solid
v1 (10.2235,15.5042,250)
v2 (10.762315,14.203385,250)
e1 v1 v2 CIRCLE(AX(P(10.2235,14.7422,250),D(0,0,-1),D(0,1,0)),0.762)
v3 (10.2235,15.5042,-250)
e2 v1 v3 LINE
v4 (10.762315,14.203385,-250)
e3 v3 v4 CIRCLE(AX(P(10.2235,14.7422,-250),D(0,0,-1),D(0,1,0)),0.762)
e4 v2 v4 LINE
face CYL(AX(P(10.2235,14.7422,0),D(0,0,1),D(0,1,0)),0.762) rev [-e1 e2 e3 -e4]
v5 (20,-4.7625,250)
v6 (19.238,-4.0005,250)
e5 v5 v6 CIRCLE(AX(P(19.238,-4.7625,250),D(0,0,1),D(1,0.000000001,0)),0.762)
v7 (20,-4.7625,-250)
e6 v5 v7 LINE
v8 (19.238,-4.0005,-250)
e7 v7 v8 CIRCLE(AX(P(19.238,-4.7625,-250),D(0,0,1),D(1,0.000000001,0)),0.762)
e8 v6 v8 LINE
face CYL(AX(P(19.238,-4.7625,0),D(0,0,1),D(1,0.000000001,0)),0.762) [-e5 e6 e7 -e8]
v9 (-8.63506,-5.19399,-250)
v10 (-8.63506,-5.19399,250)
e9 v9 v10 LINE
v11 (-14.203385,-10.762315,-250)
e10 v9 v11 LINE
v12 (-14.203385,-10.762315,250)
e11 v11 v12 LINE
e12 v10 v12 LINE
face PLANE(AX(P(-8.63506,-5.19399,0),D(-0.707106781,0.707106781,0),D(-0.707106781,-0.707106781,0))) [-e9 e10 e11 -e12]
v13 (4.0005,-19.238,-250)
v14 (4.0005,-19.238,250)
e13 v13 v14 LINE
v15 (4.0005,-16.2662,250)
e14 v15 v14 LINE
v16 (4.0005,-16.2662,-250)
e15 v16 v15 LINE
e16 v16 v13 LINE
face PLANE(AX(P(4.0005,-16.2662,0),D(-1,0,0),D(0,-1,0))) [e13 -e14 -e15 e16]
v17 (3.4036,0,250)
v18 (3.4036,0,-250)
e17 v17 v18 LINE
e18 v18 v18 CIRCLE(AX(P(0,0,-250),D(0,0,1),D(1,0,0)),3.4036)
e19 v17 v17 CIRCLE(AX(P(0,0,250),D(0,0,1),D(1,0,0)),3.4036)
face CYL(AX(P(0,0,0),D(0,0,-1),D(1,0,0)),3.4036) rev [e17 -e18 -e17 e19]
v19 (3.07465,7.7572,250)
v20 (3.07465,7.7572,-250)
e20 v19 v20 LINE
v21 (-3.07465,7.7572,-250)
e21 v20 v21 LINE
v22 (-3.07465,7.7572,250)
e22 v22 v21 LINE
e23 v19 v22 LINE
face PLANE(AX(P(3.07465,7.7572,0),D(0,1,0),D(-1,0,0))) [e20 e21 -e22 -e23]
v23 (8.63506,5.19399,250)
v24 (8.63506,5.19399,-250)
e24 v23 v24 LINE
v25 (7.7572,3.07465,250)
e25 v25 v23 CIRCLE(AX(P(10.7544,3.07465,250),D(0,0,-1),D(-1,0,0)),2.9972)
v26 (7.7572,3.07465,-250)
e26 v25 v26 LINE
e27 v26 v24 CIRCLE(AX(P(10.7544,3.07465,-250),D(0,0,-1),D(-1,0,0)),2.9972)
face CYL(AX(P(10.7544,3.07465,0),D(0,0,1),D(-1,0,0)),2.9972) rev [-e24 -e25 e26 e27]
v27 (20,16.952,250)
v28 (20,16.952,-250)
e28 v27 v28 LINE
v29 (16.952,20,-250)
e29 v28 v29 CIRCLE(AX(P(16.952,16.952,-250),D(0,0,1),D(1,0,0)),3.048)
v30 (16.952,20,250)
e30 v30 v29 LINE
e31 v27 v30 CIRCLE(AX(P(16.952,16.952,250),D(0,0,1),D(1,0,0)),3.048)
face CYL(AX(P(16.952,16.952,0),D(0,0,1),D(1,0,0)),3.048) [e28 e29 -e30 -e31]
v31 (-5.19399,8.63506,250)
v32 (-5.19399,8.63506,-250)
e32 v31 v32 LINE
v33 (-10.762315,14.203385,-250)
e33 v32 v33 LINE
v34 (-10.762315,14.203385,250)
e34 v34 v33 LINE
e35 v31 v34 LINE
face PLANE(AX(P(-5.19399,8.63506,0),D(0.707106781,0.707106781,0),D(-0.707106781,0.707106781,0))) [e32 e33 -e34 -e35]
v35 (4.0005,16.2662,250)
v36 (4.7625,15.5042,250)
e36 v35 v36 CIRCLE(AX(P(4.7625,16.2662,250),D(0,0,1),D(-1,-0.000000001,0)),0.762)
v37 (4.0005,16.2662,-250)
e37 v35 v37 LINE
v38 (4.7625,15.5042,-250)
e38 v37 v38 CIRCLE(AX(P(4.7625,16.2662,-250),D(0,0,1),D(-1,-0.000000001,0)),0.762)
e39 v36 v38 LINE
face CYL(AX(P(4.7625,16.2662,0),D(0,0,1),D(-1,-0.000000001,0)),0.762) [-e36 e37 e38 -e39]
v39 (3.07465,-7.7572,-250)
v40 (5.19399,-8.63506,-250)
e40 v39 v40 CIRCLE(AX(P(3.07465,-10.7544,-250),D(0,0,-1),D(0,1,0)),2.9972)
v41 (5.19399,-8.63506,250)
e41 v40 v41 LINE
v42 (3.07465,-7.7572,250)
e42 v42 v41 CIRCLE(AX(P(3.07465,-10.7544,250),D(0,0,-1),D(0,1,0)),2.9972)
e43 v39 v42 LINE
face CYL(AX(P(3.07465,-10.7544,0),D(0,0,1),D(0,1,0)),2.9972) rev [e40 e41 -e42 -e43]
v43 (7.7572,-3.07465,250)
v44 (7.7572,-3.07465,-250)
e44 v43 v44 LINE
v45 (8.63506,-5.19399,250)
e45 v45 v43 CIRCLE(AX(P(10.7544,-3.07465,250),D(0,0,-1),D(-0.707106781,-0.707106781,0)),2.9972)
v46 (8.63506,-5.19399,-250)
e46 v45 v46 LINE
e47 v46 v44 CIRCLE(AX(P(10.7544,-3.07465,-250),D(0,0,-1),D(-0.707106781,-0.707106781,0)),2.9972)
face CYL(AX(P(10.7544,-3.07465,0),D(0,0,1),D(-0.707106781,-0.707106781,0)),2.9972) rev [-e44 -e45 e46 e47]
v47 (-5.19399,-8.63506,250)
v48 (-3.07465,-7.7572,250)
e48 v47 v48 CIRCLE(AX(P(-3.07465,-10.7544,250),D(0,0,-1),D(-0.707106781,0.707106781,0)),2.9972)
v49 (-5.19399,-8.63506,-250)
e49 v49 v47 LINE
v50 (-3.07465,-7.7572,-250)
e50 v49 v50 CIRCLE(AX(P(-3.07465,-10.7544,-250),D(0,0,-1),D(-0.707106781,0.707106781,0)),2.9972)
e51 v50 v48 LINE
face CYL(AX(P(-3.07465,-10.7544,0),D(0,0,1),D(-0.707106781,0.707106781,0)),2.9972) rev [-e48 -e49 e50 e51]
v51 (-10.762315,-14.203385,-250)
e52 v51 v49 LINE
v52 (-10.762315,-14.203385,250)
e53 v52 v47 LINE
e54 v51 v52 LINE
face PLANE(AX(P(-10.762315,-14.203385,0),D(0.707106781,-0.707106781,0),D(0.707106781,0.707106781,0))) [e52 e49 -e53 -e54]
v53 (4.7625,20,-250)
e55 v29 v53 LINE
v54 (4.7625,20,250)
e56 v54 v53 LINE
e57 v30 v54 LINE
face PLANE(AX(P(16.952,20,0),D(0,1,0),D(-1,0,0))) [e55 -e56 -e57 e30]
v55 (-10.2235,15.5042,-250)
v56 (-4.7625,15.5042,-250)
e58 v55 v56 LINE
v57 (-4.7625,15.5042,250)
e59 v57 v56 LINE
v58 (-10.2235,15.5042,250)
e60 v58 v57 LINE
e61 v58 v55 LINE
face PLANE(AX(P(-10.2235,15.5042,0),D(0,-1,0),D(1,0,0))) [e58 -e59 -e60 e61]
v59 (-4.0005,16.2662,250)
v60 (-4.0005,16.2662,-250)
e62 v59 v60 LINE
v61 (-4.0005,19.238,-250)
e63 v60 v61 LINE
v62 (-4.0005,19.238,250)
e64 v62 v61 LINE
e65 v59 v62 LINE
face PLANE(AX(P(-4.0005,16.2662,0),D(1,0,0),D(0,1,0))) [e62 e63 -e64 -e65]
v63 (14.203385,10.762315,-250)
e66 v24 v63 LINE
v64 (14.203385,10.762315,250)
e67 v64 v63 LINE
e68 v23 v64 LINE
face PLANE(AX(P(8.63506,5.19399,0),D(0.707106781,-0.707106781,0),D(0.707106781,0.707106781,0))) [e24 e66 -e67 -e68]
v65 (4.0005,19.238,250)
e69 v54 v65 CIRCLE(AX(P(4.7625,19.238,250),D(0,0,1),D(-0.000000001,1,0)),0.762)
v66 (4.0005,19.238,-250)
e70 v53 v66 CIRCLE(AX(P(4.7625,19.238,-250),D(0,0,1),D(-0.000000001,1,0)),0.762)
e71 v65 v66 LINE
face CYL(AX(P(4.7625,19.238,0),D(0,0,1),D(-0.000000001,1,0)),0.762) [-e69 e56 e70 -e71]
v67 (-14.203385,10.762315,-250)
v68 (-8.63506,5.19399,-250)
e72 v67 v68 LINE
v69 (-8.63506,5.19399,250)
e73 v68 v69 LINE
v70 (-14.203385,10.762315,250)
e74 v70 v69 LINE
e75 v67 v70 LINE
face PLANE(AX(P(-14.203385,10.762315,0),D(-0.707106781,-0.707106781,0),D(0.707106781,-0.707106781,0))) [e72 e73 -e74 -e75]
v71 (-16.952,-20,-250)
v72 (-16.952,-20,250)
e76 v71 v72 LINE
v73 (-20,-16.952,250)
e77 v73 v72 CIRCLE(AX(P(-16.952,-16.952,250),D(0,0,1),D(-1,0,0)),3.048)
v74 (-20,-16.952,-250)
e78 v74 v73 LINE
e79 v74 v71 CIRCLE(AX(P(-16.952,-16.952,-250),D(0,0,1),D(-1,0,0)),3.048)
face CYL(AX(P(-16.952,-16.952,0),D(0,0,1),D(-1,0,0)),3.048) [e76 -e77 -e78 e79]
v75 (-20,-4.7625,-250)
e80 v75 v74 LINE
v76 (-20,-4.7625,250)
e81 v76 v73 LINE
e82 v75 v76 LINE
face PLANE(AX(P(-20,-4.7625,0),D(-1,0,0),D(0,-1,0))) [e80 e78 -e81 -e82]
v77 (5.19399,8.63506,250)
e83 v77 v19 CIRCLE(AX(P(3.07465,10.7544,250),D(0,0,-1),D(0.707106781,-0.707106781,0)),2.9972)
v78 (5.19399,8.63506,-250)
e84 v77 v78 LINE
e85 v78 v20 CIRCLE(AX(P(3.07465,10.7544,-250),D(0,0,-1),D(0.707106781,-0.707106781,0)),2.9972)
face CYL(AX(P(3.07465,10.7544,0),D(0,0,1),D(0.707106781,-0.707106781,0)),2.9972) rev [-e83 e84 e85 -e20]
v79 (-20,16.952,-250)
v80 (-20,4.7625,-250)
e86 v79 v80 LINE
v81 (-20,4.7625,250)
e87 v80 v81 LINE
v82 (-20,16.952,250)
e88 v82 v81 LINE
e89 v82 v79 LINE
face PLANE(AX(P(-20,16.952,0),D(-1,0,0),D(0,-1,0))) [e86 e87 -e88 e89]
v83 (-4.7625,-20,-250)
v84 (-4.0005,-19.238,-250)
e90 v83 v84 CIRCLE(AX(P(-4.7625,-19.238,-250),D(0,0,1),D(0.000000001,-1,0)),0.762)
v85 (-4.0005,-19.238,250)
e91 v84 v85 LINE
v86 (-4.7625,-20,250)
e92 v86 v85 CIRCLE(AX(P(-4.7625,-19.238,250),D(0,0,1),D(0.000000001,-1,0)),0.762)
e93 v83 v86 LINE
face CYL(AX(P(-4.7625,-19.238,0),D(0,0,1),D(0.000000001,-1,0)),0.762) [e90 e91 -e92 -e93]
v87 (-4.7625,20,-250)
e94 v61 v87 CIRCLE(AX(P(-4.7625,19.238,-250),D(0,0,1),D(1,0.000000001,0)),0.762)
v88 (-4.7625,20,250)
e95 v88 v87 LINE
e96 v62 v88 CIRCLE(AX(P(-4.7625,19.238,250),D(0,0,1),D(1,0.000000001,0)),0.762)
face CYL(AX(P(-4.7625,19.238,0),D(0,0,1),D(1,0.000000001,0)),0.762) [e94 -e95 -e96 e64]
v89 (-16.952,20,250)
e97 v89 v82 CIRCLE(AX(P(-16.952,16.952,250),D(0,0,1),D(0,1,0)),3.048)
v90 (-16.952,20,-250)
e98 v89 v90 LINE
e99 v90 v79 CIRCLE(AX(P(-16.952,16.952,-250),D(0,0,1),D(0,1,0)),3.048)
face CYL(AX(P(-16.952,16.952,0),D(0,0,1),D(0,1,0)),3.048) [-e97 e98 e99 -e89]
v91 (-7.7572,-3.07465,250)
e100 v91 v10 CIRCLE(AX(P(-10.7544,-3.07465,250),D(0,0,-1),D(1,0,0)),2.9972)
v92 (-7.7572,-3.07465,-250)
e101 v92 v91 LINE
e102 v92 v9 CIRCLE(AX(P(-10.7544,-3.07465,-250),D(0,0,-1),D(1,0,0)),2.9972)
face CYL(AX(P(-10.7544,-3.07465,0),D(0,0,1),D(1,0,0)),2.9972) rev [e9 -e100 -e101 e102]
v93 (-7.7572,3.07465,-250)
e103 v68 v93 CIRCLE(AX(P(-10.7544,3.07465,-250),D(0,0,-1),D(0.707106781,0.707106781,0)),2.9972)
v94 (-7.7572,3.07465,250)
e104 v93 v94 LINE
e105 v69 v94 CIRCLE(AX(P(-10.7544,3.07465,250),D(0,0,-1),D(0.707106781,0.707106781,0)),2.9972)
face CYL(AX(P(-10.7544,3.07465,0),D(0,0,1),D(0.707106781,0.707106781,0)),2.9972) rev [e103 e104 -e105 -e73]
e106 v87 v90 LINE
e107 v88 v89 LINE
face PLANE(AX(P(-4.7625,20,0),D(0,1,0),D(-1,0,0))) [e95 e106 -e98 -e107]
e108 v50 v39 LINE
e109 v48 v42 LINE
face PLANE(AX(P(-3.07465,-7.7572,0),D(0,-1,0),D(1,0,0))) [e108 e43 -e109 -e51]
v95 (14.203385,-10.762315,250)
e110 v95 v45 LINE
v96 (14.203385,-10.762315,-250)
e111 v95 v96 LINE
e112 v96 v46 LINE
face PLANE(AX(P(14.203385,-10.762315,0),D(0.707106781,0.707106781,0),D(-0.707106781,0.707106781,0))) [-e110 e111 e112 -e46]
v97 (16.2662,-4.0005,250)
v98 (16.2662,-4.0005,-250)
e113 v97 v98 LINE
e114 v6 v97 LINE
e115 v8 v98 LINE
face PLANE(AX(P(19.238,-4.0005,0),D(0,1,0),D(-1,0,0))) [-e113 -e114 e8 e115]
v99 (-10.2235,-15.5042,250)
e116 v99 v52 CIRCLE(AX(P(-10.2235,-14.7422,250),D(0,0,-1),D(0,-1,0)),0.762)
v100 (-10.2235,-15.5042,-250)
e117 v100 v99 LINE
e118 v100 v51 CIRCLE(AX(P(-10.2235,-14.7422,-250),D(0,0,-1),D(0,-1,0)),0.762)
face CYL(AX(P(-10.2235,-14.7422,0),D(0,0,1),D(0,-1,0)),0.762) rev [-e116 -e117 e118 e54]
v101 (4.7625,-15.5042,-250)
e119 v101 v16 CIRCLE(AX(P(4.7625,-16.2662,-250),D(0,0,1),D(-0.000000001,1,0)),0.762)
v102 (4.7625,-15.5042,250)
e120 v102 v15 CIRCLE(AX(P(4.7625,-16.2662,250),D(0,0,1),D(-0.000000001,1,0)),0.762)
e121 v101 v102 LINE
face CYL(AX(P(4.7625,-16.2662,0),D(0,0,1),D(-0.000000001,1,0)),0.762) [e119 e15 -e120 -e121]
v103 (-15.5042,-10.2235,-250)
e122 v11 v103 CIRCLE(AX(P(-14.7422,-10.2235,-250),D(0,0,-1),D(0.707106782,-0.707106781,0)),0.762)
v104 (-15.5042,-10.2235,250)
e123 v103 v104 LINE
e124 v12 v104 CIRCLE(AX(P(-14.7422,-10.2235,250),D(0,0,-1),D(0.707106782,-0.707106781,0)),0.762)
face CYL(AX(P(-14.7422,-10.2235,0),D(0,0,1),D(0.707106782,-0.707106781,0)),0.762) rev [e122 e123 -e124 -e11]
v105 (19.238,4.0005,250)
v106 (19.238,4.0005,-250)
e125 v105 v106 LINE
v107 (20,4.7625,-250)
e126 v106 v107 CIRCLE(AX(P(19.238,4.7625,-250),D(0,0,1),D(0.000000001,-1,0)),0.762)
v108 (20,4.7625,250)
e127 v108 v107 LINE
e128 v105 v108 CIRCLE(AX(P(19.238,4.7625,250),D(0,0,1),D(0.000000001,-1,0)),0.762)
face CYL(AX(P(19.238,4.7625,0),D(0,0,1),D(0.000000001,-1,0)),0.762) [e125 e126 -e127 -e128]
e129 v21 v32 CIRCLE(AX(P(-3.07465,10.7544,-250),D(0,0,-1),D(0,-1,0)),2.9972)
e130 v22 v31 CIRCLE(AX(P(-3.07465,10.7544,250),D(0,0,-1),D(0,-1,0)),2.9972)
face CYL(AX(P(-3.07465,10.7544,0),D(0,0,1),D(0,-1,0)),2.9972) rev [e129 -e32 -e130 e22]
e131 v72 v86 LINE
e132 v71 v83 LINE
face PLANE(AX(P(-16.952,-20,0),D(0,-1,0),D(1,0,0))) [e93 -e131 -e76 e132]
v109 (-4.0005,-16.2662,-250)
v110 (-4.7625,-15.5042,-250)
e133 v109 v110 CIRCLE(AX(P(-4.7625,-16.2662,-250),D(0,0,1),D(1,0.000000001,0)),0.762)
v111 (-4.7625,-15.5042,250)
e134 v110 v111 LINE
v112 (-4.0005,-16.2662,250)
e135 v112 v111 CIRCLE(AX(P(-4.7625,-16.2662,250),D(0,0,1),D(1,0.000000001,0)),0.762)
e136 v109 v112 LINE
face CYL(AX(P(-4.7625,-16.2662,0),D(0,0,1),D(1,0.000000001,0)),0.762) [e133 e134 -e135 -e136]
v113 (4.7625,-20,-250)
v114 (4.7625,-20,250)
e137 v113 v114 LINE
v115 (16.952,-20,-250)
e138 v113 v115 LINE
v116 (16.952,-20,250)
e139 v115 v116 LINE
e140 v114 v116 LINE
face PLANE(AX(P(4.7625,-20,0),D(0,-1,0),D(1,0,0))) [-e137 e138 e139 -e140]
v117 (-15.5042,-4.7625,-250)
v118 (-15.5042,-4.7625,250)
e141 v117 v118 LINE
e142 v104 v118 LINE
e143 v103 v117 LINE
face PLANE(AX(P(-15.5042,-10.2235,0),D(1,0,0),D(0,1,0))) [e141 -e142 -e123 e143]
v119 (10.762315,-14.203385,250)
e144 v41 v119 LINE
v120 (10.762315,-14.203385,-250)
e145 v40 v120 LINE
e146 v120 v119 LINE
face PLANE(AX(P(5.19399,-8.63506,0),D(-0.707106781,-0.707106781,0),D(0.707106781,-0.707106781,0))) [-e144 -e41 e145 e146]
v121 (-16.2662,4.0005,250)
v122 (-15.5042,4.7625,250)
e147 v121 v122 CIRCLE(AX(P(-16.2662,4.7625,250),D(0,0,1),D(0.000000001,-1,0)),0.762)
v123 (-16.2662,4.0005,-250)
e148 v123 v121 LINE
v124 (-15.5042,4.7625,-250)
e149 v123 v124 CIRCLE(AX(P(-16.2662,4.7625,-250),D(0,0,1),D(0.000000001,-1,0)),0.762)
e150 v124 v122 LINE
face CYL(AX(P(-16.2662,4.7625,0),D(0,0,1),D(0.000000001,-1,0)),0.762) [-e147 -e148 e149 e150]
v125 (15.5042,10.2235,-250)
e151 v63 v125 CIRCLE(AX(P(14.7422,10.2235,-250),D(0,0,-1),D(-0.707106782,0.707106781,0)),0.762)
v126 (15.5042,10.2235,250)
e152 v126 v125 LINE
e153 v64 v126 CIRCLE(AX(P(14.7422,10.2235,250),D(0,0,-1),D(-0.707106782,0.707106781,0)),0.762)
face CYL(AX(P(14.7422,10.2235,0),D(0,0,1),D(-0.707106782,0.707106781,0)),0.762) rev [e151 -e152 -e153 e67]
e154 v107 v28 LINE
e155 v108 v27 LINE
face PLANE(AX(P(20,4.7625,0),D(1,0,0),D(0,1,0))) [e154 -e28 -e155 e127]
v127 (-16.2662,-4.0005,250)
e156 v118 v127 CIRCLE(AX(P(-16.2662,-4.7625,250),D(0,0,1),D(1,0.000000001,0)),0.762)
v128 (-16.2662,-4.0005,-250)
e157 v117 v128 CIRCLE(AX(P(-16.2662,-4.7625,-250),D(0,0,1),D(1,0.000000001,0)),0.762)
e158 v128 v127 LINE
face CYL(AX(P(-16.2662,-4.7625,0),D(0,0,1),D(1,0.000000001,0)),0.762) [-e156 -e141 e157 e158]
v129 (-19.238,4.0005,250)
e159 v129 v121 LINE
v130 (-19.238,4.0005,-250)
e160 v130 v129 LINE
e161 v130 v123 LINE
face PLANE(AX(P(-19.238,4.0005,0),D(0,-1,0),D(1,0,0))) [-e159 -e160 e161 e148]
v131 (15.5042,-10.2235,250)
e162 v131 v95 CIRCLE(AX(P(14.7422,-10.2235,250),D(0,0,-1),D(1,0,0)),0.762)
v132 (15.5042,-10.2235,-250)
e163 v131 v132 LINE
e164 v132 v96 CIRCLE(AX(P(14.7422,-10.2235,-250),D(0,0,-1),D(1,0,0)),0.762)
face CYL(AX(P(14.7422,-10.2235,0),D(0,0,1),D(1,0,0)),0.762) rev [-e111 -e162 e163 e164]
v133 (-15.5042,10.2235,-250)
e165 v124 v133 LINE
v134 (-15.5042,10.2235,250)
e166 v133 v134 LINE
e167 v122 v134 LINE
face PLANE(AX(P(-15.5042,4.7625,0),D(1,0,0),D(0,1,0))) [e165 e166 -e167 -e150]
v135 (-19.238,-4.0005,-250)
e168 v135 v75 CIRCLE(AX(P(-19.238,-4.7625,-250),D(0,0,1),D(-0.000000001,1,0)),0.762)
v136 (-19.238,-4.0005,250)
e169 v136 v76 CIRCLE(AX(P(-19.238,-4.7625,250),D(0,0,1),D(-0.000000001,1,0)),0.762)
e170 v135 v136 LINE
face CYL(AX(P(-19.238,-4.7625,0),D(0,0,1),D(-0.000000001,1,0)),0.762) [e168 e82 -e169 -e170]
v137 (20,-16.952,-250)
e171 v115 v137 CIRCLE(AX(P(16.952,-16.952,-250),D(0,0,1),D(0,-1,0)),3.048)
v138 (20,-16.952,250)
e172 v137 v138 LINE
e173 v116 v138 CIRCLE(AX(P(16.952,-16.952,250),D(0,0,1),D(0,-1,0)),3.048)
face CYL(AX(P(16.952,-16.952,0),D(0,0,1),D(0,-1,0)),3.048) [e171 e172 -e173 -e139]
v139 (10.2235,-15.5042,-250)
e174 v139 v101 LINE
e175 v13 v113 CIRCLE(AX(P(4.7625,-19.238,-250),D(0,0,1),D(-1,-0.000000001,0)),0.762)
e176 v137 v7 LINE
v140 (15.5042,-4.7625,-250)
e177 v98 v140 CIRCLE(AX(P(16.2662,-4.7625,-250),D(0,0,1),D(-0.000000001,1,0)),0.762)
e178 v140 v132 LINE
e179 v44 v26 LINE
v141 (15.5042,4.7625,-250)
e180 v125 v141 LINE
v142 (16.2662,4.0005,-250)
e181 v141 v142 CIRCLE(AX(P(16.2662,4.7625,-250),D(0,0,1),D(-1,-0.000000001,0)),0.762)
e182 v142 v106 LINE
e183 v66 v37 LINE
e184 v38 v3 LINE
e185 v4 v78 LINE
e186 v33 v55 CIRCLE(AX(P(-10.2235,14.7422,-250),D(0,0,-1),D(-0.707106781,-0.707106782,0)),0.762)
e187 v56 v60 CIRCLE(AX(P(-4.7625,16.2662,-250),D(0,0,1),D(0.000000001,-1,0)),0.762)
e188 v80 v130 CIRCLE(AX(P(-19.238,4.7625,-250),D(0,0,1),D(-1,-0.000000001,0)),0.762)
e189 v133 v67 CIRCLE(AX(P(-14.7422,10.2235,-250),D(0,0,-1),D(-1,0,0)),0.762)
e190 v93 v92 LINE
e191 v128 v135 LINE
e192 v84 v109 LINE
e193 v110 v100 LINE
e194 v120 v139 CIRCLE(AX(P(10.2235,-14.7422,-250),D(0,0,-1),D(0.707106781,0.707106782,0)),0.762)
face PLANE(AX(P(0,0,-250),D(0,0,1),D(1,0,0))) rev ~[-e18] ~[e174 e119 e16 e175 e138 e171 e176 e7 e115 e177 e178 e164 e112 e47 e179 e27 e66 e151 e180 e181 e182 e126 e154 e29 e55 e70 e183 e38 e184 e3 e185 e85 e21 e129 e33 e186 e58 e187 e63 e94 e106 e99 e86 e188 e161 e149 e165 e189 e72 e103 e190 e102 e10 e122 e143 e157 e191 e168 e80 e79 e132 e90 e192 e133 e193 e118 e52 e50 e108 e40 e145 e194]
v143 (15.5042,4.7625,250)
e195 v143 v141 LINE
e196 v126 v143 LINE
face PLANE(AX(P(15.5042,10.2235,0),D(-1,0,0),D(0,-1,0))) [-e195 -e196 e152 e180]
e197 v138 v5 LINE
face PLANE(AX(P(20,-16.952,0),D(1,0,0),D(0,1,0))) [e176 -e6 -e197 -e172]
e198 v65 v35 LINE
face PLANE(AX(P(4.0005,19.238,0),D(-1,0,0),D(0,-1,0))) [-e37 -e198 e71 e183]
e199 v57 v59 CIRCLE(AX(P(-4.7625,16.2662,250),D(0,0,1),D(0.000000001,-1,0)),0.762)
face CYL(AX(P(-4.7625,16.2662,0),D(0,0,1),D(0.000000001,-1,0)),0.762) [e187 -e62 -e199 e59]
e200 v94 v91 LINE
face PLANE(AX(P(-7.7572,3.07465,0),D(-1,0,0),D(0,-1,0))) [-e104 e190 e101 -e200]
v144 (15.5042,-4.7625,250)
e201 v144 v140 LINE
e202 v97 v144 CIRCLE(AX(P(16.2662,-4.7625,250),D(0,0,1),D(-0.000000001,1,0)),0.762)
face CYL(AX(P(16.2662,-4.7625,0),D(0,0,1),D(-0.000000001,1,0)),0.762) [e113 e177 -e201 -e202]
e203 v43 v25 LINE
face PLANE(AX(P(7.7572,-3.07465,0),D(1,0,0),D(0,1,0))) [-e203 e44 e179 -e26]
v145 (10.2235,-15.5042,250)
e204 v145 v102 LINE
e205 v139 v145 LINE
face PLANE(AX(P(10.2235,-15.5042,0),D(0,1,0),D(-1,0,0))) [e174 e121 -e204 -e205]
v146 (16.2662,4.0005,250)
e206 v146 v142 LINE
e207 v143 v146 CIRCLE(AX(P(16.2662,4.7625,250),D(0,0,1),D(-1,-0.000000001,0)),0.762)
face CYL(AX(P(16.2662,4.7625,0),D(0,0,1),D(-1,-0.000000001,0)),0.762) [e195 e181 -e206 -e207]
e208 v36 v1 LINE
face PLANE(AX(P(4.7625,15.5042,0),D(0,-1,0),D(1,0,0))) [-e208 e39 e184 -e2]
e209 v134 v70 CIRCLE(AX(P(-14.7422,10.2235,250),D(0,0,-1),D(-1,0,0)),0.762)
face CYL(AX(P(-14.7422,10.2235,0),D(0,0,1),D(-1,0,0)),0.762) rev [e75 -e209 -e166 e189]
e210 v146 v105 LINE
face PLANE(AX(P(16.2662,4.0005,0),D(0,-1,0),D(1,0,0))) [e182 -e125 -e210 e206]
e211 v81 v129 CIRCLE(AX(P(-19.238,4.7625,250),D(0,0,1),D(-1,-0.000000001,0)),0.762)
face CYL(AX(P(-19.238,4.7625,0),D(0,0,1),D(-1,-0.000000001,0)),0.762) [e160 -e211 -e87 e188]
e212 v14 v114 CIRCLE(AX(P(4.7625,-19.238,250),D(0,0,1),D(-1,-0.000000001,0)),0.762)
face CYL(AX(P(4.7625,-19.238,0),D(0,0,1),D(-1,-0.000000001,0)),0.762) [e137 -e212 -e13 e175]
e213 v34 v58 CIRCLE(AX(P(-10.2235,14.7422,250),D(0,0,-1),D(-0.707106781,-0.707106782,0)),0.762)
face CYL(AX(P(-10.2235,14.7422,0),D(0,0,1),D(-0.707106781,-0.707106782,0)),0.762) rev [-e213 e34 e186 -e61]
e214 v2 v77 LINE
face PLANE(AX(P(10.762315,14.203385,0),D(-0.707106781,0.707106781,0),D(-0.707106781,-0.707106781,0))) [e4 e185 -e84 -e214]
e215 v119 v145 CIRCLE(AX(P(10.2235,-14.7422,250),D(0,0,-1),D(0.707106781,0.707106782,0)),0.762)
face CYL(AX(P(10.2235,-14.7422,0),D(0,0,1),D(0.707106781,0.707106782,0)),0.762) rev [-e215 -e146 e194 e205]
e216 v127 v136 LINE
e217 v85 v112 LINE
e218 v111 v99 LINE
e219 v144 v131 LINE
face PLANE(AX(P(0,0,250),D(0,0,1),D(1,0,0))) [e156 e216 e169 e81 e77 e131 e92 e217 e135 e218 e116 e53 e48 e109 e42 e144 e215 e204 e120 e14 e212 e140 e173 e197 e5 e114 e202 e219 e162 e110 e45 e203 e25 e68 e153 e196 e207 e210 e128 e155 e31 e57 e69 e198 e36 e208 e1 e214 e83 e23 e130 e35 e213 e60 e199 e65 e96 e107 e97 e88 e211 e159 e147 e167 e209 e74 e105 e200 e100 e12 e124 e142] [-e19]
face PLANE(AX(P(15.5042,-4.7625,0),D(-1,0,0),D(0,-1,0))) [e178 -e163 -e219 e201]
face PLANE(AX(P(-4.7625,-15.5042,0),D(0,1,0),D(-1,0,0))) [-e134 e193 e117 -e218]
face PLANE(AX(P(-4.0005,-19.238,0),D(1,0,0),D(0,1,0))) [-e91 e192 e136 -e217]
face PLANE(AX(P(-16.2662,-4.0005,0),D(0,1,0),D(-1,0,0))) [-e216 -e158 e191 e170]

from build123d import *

# Parameters (mm, degrees)
SKETCH1_R           = 3.4036
BOSS_EXTRUDE1_DEPTH = 250


with BuildPart() as part:
    # Sketch1 → Boss-Extrude1 (new body, symmetric)
    with BuildSketch(Plane.XY):
        with BuildLine():
            Line((-20, 16.952), (-20, 4.7625))
            ThreePointArc((-20, 4.7625), (-19.776815367, 4.223684633), (-19.238, 4.0005))
            Line((-19.238, 4.0005), (-16.2662, 4.0005))
            ThreePointArc((-16.2662, 4.0005), (-15.727384633, 4.223684633), (-15.5042, 4.7625))
            Line((-15.5042, 4.7625), (-15.5042, 10.2235))
            ThreePointArc((-15.5042, 10.2235), (-15.033804775, 10.927496204), (-14.203384633, 10.762315367))
            Line((-14.203384633, 10.762315367), (-8.635059555, 5.19399029))
            ThreePointArc((-8.635059555, 5.19399029), (-7.985348265, 4.221628629), (-7.7572, 3.074649845))
            Line((-7.7572, 3.074649845), (-7.7572, -3.074649845))
            ThreePointArc((-7.7572, -3.074649845), (-7.985348265, -4.221628629), (-8.635059555, -5.19399029))
            Line((-8.635059555, -5.19399029), (-14.203384633, -10.762315367))
            ThreePointArc((-14.203384633, -10.762315367), (-15.033804775, -10.927496204), (-15.5042, -10.2235))
            Line((-15.5042, -10.2235), (-15.5042, -4.7625))
            ThreePointArc((-15.5042, -4.7625), (-15.727384633, -4.223684633), (-16.2662, -4.0005))
            Line((-16.2662, -4.0005), (-19.238, -4.0005))
            ThreePointArc((-19.238, -4.0005), (-19.776815367, -4.223684633), (-20, -4.7625))
            Line((-20, -4.7625), (-20, -16.952))
            ThreePointArc((-20, -16.952), (-19.107261469, -19.107261469), (-16.952, -20))
            Line((-16.952, -20), (-4.7625, -20))
            ThreePointArc((-4.7625, -20), (-4.223684633, -19.776815367), (-4.0005, -19.238))
            Line((-4.0005, -19.238), (-4.0005, -16.2662))
            ThreePointArc((-4.0005, -16.2662), (-4.223684633, -15.727384633), (-4.7625, -15.5042))
            Line((-4.7625, -15.5042), (-10.2235, -15.5042))
            ThreePointArc((-10.2235, -15.5042), (-10.927496204, -15.033804775), (-10.762315367, -14.203384633))
            Line((-10.762315367, -14.203384633), (-5.19399029, -8.635059555))
            ThreePointArc((-5.19399029, -8.635059555), (-4.221628629, -7.985348265), (-3.074649845, -7.7572))
            Line((-3.074649845, -7.7572), (3.074649845, -7.7572))
            ThreePointArc((3.074649845, -7.7572), (4.221628629, -7.985348265), (5.19399029, -8.635059555))
            Line((5.19399029, -8.635059555), (10.762315367, -14.203384633))
            ThreePointArc((10.762315367, -14.203384633), (10.927496204, -15.033804775), (10.2235, -15.5042))
            Line((10.2235, -15.5042), (4.7625, -15.5042))
            ThreePointArc((4.7625, -15.5042), (4.223684633, -15.727384633), (4.0005, -16.2662))
            Line((4.0005, -16.2662), (4.0005, -19.238))
            ThreePointArc((4.0005, -19.238), (4.223684633, -19.776815367), (4.7625, -20))
            Line((4.7625, -20), (16.952, -20))
            ThreePointArc((16.952, -20), (19.107261469, -19.107261469), (20, -16.952))
            Line((20, -16.952), (20, -4.7625))
            ThreePointArc((20, -4.7625), (19.776815367, -4.223684633), (19.238, -4.0005))
            Line((19.238, -4.0005), (16.2662, -4.0005))
            ThreePointArc((16.2662, -4.0005), (15.727384633, -4.223684633), (15.5042, -4.7625))
            Line((15.5042, -4.7625), (15.5042, -10.2235))
            ThreePointArc((15.5042, -10.2235), (15.033804775, -10.927496204), (14.203384633, -10.762315367))
            Line((14.203384633, -10.762315367), (8.635059555, -5.19399029))
            ThreePointArc((8.635059555, -5.19399029), (7.985348265, -4.221628629), (7.7572, -3.074649845))
            Line((7.7572, -3.074649845), (7.7572, 3.074649845))
            ThreePointArc((7.7572, 3.074649845), (7.985348265, 4.221628629), (8.635059555, 5.19399029))
            Line((8.635059555, 5.19399029), (14.203384633, 10.762315367))
            ThreePointArc((14.203384633, 10.762315367), (15.033804775, 10.927496204), (15.5042, 10.2235))
            Line((15.5042, 10.2235), (15.5042, 4.7625))
            ThreePointArc((15.5042, 4.7625), (15.727384633, 4.223684633), (16.2662, 4.0005))
            Line((16.2662, 4.0005), (19.238, 4.0005))
            ThreePointArc((19.238, 4.0005), (19.776815367, 4.223684633), (20, 4.7625))
            Line((20, 4.7625), (20, 16.952))
            ThreePointArc((20, 16.952), (19.107261469, 19.107261469), (16.952, 20))
            Line((16.952, 20), (4.7625, 20))
            ThreePointArc((4.7625, 20), (4.223684633, 19.776815367), (4.0005, 19.238))
            Line((4.0005, 19.238), (4.0005, 16.2662))
            ThreePointArc((4.0005, 16.2662), (4.223684633, 15.727384633), (4.7625, 15.5042))
            Line((4.7625, 15.5042), (10.2235, 15.5042))
            ThreePointArc((10.2235, 15.5042), (10.927496204, 15.033804775), (10.762315367, 14.203384633))
            Line((10.762315367, 14.203384633), (5.19399029, 8.635059555))
            ThreePointArc((5.19399029, 8.635059555), (4.221628629, 7.985348265), (3.074649845, 7.7572))
            Line((3.074649845, 7.7572), (-3.074649845, 7.7572))
            ThreePointArc((-3.074649845, 7.7572), (-4.221628629, 7.985348265), (-5.19399029, 8.635059555))
            Line((-5.19399029, 8.635059555), (-10.762315367, 14.203384633))
            ThreePointArc((-10.762315367, 14.203384633), (-10.927496204, 15.033804775), (-10.2235, 15.5042))
            Line((-10.2235, 15.5042), (-4.7625, 15.5042))
            ThreePointArc((-4.7625, 15.5042), (-4.223684633, 15.727384633), (-4.0005, 16.2662))
            Line((-4.0005, 16.2662), (-4.0005, 19.238))
            ThreePointArc((-4.0005, 19.238), (-4.223684633, 19.776815367), (-4.7625, 20))
            Line((-4.7625, 20), (-16.952, 20))
            ThreePointArc((-16.952, 20), (-19.107261469, 19.107261469), (-20, 16.952))
        make_face()
        Circle(SKETCH1_R, mode=Mode.SUBTRACT)
    extrude(amount=BOSS_EXTRUDE1_DEPTH, both=True)


solid = part.part
